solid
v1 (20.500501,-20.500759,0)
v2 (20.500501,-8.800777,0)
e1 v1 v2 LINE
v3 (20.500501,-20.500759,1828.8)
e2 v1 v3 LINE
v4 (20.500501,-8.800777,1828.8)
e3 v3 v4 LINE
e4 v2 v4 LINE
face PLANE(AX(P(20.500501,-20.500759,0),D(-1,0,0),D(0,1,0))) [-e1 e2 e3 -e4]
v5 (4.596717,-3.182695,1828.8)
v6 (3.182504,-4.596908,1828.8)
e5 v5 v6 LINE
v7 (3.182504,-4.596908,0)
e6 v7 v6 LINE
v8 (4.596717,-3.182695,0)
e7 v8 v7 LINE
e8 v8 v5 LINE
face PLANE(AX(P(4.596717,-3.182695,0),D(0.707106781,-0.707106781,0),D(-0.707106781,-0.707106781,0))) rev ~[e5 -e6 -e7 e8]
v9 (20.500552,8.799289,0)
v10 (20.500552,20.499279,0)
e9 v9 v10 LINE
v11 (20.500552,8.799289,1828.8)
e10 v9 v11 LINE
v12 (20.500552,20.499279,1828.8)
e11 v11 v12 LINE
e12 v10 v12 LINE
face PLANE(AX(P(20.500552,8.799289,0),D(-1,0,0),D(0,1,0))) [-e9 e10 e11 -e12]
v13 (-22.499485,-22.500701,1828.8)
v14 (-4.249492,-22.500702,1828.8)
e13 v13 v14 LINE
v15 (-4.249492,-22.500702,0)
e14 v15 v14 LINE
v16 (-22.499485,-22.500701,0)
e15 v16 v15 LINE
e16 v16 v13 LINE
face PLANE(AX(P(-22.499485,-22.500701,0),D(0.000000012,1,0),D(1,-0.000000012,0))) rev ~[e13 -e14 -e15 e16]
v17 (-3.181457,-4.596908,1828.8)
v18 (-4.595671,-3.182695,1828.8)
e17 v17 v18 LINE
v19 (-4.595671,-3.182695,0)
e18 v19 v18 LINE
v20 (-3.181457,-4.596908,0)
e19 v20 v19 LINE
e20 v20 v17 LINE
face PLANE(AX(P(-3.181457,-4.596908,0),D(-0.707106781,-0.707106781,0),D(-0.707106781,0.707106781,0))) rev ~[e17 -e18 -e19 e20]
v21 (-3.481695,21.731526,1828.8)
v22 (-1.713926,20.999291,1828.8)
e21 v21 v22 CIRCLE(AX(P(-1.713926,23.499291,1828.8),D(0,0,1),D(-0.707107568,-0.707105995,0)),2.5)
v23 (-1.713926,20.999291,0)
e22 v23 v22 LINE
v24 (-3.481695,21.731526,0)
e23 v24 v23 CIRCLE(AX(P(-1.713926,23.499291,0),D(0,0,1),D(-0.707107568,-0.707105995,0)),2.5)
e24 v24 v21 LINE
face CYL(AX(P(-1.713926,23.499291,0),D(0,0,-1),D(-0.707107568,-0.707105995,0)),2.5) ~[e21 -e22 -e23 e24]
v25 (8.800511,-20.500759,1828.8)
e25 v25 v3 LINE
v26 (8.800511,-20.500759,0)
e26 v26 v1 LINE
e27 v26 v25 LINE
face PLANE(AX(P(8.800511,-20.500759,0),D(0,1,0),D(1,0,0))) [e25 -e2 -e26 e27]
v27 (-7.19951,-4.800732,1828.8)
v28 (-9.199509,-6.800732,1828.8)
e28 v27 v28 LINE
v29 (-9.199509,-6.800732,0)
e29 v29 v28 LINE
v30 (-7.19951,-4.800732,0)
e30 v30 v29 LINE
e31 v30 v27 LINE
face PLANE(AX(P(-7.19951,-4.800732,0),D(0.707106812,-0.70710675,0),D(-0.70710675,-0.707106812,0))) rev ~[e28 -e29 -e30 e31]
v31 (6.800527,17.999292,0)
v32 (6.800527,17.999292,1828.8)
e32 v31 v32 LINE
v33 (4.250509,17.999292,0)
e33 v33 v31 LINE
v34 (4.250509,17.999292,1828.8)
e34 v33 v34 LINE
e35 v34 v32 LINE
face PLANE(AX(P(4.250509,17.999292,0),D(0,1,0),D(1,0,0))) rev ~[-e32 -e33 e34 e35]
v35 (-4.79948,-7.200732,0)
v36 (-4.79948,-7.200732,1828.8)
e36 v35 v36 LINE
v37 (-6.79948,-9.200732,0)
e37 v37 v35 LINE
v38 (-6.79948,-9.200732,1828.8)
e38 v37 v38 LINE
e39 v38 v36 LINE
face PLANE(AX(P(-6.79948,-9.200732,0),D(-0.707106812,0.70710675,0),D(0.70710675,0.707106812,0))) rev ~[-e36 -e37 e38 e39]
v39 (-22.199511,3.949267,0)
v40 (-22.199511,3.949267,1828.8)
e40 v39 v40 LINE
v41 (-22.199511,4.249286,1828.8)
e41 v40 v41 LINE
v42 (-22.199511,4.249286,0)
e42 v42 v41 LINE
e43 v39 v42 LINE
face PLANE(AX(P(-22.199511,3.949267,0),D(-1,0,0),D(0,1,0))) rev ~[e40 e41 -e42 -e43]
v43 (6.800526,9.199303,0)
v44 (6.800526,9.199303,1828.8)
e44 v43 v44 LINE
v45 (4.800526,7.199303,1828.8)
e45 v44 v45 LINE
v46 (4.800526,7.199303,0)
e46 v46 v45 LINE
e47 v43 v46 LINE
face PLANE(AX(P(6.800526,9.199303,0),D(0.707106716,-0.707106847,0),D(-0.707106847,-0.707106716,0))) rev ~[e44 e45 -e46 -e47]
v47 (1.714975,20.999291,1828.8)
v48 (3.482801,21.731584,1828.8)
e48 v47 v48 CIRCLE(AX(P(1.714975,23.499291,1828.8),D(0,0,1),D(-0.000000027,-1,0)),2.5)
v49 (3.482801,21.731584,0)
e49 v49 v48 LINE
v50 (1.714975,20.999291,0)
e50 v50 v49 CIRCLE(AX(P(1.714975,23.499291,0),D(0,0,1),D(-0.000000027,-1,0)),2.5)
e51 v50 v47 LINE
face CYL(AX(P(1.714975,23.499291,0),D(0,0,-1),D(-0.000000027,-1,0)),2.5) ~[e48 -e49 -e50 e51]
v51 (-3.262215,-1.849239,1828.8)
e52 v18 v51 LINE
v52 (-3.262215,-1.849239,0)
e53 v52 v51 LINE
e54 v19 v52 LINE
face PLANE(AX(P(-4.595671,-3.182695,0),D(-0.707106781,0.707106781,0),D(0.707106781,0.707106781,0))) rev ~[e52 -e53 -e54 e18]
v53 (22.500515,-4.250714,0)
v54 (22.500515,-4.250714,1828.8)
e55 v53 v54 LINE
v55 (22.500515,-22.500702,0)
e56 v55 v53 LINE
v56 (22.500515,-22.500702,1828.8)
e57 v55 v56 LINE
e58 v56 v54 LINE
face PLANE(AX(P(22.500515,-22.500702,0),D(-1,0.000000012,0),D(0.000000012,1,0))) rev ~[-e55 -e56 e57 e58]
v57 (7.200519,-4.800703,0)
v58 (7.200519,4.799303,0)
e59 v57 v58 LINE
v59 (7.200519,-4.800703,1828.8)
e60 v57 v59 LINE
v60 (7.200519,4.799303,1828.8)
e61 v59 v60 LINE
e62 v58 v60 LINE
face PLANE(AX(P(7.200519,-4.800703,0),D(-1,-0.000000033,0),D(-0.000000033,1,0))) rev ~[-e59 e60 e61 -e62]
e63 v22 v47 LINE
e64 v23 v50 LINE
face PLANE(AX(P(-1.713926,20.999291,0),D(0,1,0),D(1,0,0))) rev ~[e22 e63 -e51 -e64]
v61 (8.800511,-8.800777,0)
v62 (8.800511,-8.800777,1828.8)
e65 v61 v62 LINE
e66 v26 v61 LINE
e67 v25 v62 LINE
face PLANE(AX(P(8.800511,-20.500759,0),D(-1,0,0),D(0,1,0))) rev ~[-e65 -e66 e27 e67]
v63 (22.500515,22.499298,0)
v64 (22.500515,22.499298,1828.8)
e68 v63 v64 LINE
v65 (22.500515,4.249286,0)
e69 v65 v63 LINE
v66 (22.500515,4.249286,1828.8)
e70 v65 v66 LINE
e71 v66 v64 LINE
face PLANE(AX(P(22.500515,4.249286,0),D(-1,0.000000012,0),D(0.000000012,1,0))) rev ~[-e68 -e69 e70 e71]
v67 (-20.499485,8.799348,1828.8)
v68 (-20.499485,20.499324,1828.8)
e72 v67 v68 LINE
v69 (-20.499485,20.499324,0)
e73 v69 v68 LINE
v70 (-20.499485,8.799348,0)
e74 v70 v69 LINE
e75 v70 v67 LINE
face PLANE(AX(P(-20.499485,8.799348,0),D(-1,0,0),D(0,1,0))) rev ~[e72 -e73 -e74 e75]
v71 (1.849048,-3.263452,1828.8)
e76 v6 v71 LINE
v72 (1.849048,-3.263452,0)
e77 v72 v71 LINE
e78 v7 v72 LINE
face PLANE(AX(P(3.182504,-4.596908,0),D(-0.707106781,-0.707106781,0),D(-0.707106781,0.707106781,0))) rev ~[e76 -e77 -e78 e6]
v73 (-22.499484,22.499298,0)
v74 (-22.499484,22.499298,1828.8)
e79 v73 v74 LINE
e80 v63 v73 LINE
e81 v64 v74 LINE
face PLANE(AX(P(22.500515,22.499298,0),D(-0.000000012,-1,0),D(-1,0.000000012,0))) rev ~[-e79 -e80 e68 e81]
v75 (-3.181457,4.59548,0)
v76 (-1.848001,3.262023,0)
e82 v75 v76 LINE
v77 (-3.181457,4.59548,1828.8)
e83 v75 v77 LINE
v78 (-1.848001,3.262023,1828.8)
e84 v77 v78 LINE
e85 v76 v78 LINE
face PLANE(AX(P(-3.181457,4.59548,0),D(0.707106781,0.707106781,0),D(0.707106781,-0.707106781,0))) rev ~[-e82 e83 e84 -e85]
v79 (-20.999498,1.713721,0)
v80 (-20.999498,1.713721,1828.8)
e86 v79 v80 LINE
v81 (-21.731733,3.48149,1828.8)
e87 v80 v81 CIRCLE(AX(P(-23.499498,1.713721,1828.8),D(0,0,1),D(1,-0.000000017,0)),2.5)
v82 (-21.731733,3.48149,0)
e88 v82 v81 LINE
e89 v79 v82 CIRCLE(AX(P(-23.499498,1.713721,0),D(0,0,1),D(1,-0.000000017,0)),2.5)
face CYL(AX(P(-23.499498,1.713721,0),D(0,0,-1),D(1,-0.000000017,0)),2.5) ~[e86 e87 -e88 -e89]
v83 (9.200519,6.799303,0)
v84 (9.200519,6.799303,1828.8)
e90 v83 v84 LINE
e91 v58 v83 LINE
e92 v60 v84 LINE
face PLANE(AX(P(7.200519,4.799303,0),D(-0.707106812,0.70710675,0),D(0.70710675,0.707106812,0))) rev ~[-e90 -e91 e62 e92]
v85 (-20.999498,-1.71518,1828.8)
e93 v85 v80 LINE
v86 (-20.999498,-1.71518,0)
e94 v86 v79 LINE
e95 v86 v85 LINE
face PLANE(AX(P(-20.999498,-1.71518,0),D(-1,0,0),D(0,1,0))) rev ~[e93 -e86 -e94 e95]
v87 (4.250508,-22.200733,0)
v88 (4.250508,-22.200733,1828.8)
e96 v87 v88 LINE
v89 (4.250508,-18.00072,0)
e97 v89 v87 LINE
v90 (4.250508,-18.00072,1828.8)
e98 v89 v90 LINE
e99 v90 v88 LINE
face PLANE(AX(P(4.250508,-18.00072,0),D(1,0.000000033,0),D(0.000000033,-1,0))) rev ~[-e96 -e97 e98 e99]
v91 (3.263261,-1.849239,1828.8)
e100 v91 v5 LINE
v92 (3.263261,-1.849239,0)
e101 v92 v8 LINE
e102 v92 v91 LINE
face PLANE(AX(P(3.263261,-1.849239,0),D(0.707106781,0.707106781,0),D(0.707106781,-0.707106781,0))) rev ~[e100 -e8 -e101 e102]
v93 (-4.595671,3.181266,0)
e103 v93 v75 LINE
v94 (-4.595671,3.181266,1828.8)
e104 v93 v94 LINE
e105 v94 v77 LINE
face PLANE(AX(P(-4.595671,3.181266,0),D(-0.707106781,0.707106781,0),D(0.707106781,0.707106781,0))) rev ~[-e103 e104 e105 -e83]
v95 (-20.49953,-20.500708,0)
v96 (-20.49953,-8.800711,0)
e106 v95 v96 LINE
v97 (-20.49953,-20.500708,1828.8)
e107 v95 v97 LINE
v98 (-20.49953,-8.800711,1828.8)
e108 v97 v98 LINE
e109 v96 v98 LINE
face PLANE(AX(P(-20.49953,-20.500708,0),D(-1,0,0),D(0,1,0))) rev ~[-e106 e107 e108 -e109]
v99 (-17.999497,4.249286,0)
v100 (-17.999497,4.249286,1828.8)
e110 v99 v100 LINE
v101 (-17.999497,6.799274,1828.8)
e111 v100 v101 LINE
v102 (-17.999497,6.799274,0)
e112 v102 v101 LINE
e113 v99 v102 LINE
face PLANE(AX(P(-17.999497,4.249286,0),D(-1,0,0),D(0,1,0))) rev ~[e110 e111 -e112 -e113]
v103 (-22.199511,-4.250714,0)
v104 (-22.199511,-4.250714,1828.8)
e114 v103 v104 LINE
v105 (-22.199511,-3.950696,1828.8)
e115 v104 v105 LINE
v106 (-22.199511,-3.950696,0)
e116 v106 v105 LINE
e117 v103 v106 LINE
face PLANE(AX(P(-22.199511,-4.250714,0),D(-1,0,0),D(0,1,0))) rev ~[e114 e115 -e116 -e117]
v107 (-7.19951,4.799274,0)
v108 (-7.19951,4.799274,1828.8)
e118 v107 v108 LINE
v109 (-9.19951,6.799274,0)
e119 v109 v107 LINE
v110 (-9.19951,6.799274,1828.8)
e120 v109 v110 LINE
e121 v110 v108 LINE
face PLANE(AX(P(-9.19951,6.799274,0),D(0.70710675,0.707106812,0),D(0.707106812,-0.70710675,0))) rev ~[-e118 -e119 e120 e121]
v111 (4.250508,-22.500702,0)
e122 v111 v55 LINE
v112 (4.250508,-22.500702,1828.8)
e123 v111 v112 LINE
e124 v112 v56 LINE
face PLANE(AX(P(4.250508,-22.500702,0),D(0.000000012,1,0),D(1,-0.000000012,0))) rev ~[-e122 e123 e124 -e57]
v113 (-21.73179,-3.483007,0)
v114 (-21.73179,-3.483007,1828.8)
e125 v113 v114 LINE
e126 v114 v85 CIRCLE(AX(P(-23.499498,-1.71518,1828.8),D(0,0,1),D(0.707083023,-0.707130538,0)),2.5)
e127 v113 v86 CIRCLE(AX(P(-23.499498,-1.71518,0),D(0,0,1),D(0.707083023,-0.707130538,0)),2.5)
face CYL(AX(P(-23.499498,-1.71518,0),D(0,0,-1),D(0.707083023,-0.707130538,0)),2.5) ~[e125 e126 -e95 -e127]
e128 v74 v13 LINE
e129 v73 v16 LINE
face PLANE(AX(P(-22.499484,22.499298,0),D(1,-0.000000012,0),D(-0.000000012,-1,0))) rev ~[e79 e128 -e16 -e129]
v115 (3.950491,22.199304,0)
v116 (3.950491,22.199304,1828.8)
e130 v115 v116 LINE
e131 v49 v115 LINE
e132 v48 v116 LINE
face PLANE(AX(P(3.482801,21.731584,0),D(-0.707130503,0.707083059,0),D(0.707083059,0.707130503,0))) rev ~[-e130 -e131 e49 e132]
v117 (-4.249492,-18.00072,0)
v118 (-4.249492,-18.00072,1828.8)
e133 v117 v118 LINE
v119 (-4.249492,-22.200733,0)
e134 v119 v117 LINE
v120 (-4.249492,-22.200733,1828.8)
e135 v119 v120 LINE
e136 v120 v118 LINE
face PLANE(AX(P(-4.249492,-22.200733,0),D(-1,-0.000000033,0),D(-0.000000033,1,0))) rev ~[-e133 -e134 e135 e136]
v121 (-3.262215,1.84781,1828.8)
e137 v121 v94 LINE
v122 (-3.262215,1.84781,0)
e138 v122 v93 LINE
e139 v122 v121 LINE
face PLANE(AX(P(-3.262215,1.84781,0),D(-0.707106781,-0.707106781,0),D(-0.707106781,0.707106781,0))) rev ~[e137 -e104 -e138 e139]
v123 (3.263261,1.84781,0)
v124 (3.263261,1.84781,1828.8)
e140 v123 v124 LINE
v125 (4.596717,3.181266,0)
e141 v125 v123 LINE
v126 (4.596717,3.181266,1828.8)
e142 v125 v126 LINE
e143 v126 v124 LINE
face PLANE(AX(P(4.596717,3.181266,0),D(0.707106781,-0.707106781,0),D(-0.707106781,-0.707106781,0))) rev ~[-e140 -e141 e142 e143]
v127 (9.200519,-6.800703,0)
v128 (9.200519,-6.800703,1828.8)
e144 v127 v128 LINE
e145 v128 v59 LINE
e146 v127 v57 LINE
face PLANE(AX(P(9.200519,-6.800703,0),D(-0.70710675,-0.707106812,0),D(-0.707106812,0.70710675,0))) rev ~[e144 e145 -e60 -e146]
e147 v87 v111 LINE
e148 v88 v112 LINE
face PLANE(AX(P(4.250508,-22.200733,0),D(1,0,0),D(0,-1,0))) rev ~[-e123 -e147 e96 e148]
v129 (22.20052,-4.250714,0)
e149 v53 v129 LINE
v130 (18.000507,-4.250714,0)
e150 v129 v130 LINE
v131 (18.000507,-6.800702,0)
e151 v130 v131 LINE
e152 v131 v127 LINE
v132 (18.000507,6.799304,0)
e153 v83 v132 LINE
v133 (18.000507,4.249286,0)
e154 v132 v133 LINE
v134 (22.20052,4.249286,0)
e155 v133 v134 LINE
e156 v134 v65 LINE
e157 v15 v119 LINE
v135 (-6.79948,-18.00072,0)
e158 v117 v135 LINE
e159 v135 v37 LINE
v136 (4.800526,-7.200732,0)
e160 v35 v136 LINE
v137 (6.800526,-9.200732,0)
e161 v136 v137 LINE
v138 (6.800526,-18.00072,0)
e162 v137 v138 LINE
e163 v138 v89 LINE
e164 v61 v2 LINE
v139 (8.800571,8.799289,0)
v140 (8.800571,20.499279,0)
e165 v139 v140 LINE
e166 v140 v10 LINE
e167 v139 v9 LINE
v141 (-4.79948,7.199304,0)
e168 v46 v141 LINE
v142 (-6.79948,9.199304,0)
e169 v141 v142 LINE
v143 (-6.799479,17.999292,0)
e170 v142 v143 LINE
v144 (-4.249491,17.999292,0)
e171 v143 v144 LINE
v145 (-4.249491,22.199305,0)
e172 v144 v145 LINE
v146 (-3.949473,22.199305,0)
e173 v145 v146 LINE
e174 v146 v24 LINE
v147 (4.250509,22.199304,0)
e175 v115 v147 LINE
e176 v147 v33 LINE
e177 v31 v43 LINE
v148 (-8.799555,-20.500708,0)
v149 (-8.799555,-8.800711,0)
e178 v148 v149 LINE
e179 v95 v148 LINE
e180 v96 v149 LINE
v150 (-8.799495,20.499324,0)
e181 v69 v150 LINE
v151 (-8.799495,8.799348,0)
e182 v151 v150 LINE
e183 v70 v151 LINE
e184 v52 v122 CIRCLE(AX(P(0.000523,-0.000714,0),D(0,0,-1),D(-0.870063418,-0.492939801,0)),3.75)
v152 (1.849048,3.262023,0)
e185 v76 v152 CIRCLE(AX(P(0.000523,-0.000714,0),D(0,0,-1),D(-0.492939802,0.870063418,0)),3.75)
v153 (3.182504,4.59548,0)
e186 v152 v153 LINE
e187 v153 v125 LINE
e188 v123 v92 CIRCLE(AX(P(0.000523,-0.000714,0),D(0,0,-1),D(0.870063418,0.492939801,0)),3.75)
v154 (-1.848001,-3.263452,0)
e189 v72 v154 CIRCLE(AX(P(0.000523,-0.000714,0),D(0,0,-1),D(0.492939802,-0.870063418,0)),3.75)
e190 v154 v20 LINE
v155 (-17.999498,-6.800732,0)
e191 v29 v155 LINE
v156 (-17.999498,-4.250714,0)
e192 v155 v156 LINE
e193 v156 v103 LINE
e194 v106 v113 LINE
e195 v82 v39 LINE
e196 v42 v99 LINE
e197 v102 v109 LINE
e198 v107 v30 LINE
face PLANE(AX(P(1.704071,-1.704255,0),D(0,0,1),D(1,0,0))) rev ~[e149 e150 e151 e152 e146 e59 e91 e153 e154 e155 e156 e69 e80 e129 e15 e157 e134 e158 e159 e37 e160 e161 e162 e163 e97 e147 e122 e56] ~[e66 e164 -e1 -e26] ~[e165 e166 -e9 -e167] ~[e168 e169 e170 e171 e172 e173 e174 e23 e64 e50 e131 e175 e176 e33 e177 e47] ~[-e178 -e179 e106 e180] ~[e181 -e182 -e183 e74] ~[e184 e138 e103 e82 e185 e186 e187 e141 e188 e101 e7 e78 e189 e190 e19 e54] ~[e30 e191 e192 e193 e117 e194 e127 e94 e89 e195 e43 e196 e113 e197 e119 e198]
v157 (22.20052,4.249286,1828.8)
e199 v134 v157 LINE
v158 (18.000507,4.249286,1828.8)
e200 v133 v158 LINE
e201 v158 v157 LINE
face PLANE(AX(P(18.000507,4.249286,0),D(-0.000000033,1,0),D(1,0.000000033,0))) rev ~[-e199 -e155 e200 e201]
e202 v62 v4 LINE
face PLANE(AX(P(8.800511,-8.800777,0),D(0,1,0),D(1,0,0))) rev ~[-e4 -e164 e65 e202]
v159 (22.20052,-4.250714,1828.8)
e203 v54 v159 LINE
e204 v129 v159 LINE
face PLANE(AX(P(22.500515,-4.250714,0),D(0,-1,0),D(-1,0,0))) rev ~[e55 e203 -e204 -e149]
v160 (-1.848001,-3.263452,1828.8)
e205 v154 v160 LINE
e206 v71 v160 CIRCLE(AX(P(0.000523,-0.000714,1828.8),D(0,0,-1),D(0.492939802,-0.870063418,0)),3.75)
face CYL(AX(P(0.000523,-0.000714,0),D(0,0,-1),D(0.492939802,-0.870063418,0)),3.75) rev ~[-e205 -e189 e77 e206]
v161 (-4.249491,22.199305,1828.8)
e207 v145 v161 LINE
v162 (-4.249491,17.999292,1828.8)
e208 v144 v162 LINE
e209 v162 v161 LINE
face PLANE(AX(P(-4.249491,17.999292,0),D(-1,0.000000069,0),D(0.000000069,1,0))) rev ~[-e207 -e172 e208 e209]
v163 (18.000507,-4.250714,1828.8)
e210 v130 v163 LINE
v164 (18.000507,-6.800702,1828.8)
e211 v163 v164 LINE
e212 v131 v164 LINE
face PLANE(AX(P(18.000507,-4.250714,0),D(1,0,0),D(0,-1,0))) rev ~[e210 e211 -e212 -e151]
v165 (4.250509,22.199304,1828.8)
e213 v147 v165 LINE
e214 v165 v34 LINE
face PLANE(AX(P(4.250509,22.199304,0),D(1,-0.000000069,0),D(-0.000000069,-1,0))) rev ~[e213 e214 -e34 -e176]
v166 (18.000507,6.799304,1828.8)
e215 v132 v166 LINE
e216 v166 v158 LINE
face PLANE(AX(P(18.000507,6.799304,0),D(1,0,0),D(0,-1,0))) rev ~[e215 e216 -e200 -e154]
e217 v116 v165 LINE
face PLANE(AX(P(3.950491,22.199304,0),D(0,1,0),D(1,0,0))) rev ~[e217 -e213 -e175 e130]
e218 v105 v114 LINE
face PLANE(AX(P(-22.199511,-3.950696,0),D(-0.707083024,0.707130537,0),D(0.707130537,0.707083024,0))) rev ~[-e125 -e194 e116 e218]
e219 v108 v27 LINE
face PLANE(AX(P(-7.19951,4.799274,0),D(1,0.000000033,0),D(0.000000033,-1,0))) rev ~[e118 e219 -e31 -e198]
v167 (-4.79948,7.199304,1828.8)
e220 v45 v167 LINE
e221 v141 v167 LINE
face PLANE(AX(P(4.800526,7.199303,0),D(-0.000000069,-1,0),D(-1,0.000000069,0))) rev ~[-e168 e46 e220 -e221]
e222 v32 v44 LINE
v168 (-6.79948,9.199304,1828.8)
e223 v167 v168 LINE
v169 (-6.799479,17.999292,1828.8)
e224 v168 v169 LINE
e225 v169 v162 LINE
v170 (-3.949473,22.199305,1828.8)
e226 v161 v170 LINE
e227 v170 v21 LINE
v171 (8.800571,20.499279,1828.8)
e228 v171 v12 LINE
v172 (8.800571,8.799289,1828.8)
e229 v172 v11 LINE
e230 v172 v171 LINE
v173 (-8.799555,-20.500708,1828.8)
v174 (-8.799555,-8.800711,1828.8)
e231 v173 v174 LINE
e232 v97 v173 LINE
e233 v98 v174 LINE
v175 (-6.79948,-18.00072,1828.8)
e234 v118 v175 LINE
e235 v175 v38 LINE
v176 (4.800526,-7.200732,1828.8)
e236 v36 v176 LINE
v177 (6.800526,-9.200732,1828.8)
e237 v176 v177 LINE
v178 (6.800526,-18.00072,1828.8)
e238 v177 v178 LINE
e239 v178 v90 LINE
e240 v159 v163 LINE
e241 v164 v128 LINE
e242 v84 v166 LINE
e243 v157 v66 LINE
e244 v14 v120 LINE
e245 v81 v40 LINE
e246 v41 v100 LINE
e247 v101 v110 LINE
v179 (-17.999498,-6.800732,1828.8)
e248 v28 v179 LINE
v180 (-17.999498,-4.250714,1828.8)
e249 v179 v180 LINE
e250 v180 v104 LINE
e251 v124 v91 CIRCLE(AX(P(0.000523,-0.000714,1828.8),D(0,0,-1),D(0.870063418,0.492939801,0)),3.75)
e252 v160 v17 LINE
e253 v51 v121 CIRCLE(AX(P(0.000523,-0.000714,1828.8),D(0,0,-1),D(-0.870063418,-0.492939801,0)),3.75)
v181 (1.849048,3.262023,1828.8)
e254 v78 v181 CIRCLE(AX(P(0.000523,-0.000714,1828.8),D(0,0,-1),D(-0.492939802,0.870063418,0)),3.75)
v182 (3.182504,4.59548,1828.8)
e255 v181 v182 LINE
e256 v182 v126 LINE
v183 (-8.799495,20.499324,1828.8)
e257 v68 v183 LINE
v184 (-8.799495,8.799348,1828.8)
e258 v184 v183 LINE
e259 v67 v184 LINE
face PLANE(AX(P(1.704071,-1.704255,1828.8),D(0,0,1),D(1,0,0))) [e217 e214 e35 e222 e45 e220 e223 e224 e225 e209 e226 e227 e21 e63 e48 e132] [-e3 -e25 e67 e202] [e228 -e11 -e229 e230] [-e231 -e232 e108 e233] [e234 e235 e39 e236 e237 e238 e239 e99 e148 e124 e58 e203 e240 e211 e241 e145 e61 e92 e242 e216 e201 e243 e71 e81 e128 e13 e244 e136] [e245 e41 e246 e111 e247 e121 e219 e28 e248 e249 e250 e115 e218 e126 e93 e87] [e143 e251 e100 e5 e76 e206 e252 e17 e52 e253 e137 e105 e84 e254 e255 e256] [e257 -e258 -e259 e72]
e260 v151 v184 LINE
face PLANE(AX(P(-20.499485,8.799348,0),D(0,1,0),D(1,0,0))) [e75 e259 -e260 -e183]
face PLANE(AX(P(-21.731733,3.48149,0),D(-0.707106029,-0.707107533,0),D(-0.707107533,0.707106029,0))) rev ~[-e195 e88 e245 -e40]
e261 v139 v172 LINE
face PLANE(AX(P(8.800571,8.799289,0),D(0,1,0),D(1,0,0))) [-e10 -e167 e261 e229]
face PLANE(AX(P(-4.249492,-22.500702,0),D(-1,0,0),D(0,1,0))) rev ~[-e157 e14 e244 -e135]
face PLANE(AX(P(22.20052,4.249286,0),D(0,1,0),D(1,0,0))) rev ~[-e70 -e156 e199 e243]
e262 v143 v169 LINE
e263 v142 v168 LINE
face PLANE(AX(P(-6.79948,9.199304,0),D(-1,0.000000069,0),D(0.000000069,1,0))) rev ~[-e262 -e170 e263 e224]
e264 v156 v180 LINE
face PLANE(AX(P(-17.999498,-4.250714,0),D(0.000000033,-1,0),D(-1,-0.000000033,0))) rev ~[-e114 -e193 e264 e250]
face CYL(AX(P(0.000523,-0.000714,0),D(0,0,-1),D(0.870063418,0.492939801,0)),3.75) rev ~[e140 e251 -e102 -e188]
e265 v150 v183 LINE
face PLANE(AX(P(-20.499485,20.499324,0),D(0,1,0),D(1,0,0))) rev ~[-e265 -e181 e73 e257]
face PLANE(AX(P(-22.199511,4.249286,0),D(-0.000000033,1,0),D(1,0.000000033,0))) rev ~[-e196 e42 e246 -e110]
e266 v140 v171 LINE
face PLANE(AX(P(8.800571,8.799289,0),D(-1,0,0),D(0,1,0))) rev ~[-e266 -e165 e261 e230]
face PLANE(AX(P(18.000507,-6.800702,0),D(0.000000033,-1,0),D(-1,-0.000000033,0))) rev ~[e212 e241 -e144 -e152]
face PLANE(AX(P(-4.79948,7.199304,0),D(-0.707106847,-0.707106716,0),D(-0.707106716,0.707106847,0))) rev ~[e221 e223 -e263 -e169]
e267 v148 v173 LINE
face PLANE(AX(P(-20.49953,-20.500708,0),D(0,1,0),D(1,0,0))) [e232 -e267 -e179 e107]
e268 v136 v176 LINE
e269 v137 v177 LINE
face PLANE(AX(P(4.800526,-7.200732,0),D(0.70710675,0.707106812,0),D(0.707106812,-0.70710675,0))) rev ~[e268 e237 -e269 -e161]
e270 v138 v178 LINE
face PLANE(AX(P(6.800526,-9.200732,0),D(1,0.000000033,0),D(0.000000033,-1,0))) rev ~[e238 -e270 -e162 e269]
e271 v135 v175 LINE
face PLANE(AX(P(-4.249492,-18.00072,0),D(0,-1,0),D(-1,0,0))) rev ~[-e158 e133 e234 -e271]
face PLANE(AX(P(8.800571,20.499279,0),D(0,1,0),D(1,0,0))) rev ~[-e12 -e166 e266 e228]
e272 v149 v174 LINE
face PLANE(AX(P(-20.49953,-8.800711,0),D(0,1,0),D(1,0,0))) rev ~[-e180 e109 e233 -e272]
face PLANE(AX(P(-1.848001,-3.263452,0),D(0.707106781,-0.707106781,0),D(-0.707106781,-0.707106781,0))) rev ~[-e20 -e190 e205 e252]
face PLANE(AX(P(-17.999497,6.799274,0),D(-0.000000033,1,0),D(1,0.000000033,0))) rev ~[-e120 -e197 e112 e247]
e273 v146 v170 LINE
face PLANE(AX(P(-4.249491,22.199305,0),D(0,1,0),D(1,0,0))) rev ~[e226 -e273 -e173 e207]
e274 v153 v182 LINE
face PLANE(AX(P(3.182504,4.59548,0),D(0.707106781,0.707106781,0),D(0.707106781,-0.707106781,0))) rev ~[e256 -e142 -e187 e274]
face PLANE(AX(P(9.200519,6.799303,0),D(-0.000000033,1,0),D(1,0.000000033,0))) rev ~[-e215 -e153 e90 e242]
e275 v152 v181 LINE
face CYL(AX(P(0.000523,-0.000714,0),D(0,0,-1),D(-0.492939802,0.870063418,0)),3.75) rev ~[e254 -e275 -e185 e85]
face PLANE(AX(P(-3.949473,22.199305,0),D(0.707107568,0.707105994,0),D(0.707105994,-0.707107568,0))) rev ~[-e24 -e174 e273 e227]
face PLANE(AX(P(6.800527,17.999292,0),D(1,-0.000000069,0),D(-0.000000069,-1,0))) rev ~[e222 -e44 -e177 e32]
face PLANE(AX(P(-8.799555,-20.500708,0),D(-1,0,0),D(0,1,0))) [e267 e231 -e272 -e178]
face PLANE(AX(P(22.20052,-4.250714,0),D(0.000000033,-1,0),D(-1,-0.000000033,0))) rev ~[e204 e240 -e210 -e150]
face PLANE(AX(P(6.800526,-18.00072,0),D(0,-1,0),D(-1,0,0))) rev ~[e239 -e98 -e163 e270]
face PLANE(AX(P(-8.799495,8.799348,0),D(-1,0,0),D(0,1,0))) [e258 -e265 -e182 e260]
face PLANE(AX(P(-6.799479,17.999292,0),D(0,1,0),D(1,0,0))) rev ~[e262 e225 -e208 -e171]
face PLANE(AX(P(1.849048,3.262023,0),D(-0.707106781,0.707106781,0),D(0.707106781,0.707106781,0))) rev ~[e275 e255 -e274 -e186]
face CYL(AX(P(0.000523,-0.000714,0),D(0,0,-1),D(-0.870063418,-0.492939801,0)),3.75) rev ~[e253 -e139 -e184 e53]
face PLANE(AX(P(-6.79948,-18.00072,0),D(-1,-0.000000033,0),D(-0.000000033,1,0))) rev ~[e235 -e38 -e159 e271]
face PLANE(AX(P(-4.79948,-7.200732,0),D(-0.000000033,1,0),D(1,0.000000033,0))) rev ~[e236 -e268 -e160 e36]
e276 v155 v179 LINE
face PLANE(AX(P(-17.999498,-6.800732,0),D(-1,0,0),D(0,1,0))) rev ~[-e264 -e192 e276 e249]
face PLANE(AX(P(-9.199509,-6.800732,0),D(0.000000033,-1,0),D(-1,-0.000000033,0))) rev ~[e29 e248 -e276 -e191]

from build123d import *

# Parameters (mm, degrees)
SKETCH1_W           = 11.699975178
SKETCH1_H           = 11.699996949
SKETCH1_W_2         = 11.699990436
SKETCH1_H_2         = 11.699981689
SKETCH1_W_3         = 11.699990437
SKETCH1_H_3         = 11.699975177
SKETCH1_W_4         = 11.699981689
SKETCH1_H_4         = 11.699990436
BOSS_EXTRUDE1_DEPTH = 1828.8


with BuildPart() as part:
    # Sketch1 → Boss-Extrude1 (new body)
    with BuildSketch(Plane.XY):
        Polygon((22.500515052, 22.499297556), (-22.499484399, 22.499298105), (-22.499484948, -22.500701346), (-4.249491942, -22.500701568), (-4.249491942, -22.200733242), (-4.24949208, -18.000719999), (-6.799479919, -18.000719999), (-6.799480207, -9.200732353), (-4.799480391, -7.200732362), (4.800525817, -7.200732047), (6.8005258, -9.200731855), (6.800526088, -18.000720263), (4.250507877, -18.000720263), (4.250508015, -22.200733153), (4.250508015, -22.500701672), (22.500514502, -22.500701895), (22.500514725, -4.250714302), (22.200520351, -4.250714302), (18.000507108, -4.25071444), (18.000507108, -6.800702279), (9.200519462, -6.800702567), (7.200519471, -4.800702751), (7.200519156, 4.799303458), (9.200518964, 6.79930344), (18.000507424, 6.799303729), (18.000507424, 4.249285514), (22.200520261, 4.249285652), (22.500514829, 4.249285652), align=None)
        with BuildLine():
            Line((-4.249491247, 17.999291576), (-4.249490956, 22.199304807))
            Line((-4.249490956, 22.199304807), (-3.949472548, 22.199304807))
            Line((-3.949472548, 22.199304807), (-3.481695222, 21.73152644))
            ThreePointArc((-3.481695222, 21.73152644), (-2.670636178, 21.189593132), (-1.713926324, 20.999291428))
            Line((-1.713926324, 20.999291428), (1.714975167, 20.999291428))
            ThreePointArc((1.714975167, 20.999291428), (2.671722509, 21.189608628), (3.482801459, 21.731583767))
            Line((3.482801459, 21.731583767), (3.950490798, 22.199304487))
            Line((3.950490798, 22.199304487), (4.250509108, 22.199304487))
            Line((4.250509108, 22.199304487), (4.250508817, 17.999291575))
            Line((4.250508817, 17.999291575), (6.800527063, 17.999291575))
            Line((6.800527063, 17.999291575), (6.800526453, 9.199302988))
            Line((6.800526453, 9.199302988), (4.800526064, 7.199302969))
            Line((4.800526064, 7.199302969), (-4.799479817, 7.199303635))
            Line((-4.799479817, 7.199303635), (-6.799479854, 9.199304042))
            Line((-6.799479854, 9.199304042), (-6.799479244, 17.999291576))
            Line((-6.799479244, 17.999291576), (-4.249491247, 17.999291576))
        make_face(mode=Mode.SUBTRACT)
        with BuildLine():
            Line((-22.199510888, 4.249285566), (-17.999497356, 4.249285704))
            Line((-17.999497356, 4.249285704), (-17.999497356, 6.79927354))
            Line((-17.999497356, 6.79927354), (-9.199509947, 6.799273828))
            Line((-9.199509947, 6.799273828), (-7.199509956, 4.799274012))
            Line((-7.199509956, 4.799274012), (-7.199509641, -4.800732197))
            Line((-7.199509641, -4.800732197), (-9.199509449, -6.800732179))
            Line((-9.199509449, -6.800732179), (-17.99949762, -6.800732468))
            Line((-17.99949762, -6.800732468), (-17.99949762, -4.250714253))
            Line((-17.99949762, -4.250714253), (-22.199510799, -4.250714391))
            Line((-22.199510799, -4.250714391), (-22.199510799, -3.950696126))
            Line((-22.199510799, -3.950696126), (-21.731790056, -3.48300681))
            ThreePointArc((-21.731790056, -3.48300681), (-21.189814855, -2.671927844), (-20.999497617, -1.71518046))
            Line((-20.999497617, -1.71518046), (-20.999497617, 1.713721031))
            ThreePointArc((-20.999497617, 1.713721031), (-21.189799286, 2.670430863), (-21.731732544, 3.481489907))
            Line((-21.731732544, 3.481489907), (-22.199510888, 3.949267256))
            Line((-22.199510888, 3.949267256), (-22.199510888, 4.249285566))
        make_face(mode=Mode.SUBTRACT)
        with Locations((-14.649542346, -14.650709384)):
            Rectangle(SKETCH1_W, SKETCH1_H, mode=Mode.SUBTRACT)
        with Locations((14.65050626, -14.650767962)):
            Rectangle(SKETCH1_W_2, SKETCH1_H_2, mode=Mode.SUBTRACT)
        with BuildLine():
            Line((-3.181457266, -4.596908447), (-4.595670829, -3.182694885))
            Line((-4.595670829, -3.182694885), (-3.26221457, -1.849238626))
            ThreePointArc((-3.26221457, -1.849238626), (-3.749476751, -0.00071437), (-3.26221457, 1.847809887))
            Line((-3.26221457, 1.847809887), (-4.595670829, 3.181266146))
            Line((-4.595670829, 3.181266146), (-3.181457266, 4.595479708))
            Line((-3.181457266, 4.595479708), (-1.848001007, 3.262023449))
            ThreePointArc((-1.848001007, 3.262023449), (0.000523249, 3.74928563), (1.849047505, 3.262023449))
            Line((1.849047505, 3.262023449), (3.182503764, 4.595479708))
            Line((3.182503764, 4.595479708), (4.596717327, 3.181266146))
            Line((4.596717327, 3.181266146), (3.263261068, 1.847809887))
            ThreePointArc((3.263261068, 1.847809887), (3.750523249, -0.00071437), (3.263261068, -1.849238626))
            Line((3.263261068, -1.849238626), (4.596717327, -3.182694885))
            Line((4.596717327, -3.182694885), (3.182503764, -4.596908447))
            Line((3.182503764, -4.596908447), (1.849047505, -3.263452188))
            ThreePointArc((1.849047505, -3.263452188), (0.000523249, -3.75071437), (-1.848001007, -3.263452188))
            Line((-1.848001007, -3.263452188), (-3.181457266, -4.596908447))
        make_face(mode=Mode.SUBTRACT)
        with Locations((-14.64949028, 14.649335967)):
            Rectangle(SKETCH1_W_3, SKETCH1_H_3, mode=Mode.SUBTRACT)
        with Locations((14.650561583, 14.6492839)):
            Rectangle(SKETCH1_W_4, SKETCH1_H_4, mode=Mode.SUBTRACT)
    extrude(amount=BOSS_EXTRUDE1_DEPTH)


solid = part.part
